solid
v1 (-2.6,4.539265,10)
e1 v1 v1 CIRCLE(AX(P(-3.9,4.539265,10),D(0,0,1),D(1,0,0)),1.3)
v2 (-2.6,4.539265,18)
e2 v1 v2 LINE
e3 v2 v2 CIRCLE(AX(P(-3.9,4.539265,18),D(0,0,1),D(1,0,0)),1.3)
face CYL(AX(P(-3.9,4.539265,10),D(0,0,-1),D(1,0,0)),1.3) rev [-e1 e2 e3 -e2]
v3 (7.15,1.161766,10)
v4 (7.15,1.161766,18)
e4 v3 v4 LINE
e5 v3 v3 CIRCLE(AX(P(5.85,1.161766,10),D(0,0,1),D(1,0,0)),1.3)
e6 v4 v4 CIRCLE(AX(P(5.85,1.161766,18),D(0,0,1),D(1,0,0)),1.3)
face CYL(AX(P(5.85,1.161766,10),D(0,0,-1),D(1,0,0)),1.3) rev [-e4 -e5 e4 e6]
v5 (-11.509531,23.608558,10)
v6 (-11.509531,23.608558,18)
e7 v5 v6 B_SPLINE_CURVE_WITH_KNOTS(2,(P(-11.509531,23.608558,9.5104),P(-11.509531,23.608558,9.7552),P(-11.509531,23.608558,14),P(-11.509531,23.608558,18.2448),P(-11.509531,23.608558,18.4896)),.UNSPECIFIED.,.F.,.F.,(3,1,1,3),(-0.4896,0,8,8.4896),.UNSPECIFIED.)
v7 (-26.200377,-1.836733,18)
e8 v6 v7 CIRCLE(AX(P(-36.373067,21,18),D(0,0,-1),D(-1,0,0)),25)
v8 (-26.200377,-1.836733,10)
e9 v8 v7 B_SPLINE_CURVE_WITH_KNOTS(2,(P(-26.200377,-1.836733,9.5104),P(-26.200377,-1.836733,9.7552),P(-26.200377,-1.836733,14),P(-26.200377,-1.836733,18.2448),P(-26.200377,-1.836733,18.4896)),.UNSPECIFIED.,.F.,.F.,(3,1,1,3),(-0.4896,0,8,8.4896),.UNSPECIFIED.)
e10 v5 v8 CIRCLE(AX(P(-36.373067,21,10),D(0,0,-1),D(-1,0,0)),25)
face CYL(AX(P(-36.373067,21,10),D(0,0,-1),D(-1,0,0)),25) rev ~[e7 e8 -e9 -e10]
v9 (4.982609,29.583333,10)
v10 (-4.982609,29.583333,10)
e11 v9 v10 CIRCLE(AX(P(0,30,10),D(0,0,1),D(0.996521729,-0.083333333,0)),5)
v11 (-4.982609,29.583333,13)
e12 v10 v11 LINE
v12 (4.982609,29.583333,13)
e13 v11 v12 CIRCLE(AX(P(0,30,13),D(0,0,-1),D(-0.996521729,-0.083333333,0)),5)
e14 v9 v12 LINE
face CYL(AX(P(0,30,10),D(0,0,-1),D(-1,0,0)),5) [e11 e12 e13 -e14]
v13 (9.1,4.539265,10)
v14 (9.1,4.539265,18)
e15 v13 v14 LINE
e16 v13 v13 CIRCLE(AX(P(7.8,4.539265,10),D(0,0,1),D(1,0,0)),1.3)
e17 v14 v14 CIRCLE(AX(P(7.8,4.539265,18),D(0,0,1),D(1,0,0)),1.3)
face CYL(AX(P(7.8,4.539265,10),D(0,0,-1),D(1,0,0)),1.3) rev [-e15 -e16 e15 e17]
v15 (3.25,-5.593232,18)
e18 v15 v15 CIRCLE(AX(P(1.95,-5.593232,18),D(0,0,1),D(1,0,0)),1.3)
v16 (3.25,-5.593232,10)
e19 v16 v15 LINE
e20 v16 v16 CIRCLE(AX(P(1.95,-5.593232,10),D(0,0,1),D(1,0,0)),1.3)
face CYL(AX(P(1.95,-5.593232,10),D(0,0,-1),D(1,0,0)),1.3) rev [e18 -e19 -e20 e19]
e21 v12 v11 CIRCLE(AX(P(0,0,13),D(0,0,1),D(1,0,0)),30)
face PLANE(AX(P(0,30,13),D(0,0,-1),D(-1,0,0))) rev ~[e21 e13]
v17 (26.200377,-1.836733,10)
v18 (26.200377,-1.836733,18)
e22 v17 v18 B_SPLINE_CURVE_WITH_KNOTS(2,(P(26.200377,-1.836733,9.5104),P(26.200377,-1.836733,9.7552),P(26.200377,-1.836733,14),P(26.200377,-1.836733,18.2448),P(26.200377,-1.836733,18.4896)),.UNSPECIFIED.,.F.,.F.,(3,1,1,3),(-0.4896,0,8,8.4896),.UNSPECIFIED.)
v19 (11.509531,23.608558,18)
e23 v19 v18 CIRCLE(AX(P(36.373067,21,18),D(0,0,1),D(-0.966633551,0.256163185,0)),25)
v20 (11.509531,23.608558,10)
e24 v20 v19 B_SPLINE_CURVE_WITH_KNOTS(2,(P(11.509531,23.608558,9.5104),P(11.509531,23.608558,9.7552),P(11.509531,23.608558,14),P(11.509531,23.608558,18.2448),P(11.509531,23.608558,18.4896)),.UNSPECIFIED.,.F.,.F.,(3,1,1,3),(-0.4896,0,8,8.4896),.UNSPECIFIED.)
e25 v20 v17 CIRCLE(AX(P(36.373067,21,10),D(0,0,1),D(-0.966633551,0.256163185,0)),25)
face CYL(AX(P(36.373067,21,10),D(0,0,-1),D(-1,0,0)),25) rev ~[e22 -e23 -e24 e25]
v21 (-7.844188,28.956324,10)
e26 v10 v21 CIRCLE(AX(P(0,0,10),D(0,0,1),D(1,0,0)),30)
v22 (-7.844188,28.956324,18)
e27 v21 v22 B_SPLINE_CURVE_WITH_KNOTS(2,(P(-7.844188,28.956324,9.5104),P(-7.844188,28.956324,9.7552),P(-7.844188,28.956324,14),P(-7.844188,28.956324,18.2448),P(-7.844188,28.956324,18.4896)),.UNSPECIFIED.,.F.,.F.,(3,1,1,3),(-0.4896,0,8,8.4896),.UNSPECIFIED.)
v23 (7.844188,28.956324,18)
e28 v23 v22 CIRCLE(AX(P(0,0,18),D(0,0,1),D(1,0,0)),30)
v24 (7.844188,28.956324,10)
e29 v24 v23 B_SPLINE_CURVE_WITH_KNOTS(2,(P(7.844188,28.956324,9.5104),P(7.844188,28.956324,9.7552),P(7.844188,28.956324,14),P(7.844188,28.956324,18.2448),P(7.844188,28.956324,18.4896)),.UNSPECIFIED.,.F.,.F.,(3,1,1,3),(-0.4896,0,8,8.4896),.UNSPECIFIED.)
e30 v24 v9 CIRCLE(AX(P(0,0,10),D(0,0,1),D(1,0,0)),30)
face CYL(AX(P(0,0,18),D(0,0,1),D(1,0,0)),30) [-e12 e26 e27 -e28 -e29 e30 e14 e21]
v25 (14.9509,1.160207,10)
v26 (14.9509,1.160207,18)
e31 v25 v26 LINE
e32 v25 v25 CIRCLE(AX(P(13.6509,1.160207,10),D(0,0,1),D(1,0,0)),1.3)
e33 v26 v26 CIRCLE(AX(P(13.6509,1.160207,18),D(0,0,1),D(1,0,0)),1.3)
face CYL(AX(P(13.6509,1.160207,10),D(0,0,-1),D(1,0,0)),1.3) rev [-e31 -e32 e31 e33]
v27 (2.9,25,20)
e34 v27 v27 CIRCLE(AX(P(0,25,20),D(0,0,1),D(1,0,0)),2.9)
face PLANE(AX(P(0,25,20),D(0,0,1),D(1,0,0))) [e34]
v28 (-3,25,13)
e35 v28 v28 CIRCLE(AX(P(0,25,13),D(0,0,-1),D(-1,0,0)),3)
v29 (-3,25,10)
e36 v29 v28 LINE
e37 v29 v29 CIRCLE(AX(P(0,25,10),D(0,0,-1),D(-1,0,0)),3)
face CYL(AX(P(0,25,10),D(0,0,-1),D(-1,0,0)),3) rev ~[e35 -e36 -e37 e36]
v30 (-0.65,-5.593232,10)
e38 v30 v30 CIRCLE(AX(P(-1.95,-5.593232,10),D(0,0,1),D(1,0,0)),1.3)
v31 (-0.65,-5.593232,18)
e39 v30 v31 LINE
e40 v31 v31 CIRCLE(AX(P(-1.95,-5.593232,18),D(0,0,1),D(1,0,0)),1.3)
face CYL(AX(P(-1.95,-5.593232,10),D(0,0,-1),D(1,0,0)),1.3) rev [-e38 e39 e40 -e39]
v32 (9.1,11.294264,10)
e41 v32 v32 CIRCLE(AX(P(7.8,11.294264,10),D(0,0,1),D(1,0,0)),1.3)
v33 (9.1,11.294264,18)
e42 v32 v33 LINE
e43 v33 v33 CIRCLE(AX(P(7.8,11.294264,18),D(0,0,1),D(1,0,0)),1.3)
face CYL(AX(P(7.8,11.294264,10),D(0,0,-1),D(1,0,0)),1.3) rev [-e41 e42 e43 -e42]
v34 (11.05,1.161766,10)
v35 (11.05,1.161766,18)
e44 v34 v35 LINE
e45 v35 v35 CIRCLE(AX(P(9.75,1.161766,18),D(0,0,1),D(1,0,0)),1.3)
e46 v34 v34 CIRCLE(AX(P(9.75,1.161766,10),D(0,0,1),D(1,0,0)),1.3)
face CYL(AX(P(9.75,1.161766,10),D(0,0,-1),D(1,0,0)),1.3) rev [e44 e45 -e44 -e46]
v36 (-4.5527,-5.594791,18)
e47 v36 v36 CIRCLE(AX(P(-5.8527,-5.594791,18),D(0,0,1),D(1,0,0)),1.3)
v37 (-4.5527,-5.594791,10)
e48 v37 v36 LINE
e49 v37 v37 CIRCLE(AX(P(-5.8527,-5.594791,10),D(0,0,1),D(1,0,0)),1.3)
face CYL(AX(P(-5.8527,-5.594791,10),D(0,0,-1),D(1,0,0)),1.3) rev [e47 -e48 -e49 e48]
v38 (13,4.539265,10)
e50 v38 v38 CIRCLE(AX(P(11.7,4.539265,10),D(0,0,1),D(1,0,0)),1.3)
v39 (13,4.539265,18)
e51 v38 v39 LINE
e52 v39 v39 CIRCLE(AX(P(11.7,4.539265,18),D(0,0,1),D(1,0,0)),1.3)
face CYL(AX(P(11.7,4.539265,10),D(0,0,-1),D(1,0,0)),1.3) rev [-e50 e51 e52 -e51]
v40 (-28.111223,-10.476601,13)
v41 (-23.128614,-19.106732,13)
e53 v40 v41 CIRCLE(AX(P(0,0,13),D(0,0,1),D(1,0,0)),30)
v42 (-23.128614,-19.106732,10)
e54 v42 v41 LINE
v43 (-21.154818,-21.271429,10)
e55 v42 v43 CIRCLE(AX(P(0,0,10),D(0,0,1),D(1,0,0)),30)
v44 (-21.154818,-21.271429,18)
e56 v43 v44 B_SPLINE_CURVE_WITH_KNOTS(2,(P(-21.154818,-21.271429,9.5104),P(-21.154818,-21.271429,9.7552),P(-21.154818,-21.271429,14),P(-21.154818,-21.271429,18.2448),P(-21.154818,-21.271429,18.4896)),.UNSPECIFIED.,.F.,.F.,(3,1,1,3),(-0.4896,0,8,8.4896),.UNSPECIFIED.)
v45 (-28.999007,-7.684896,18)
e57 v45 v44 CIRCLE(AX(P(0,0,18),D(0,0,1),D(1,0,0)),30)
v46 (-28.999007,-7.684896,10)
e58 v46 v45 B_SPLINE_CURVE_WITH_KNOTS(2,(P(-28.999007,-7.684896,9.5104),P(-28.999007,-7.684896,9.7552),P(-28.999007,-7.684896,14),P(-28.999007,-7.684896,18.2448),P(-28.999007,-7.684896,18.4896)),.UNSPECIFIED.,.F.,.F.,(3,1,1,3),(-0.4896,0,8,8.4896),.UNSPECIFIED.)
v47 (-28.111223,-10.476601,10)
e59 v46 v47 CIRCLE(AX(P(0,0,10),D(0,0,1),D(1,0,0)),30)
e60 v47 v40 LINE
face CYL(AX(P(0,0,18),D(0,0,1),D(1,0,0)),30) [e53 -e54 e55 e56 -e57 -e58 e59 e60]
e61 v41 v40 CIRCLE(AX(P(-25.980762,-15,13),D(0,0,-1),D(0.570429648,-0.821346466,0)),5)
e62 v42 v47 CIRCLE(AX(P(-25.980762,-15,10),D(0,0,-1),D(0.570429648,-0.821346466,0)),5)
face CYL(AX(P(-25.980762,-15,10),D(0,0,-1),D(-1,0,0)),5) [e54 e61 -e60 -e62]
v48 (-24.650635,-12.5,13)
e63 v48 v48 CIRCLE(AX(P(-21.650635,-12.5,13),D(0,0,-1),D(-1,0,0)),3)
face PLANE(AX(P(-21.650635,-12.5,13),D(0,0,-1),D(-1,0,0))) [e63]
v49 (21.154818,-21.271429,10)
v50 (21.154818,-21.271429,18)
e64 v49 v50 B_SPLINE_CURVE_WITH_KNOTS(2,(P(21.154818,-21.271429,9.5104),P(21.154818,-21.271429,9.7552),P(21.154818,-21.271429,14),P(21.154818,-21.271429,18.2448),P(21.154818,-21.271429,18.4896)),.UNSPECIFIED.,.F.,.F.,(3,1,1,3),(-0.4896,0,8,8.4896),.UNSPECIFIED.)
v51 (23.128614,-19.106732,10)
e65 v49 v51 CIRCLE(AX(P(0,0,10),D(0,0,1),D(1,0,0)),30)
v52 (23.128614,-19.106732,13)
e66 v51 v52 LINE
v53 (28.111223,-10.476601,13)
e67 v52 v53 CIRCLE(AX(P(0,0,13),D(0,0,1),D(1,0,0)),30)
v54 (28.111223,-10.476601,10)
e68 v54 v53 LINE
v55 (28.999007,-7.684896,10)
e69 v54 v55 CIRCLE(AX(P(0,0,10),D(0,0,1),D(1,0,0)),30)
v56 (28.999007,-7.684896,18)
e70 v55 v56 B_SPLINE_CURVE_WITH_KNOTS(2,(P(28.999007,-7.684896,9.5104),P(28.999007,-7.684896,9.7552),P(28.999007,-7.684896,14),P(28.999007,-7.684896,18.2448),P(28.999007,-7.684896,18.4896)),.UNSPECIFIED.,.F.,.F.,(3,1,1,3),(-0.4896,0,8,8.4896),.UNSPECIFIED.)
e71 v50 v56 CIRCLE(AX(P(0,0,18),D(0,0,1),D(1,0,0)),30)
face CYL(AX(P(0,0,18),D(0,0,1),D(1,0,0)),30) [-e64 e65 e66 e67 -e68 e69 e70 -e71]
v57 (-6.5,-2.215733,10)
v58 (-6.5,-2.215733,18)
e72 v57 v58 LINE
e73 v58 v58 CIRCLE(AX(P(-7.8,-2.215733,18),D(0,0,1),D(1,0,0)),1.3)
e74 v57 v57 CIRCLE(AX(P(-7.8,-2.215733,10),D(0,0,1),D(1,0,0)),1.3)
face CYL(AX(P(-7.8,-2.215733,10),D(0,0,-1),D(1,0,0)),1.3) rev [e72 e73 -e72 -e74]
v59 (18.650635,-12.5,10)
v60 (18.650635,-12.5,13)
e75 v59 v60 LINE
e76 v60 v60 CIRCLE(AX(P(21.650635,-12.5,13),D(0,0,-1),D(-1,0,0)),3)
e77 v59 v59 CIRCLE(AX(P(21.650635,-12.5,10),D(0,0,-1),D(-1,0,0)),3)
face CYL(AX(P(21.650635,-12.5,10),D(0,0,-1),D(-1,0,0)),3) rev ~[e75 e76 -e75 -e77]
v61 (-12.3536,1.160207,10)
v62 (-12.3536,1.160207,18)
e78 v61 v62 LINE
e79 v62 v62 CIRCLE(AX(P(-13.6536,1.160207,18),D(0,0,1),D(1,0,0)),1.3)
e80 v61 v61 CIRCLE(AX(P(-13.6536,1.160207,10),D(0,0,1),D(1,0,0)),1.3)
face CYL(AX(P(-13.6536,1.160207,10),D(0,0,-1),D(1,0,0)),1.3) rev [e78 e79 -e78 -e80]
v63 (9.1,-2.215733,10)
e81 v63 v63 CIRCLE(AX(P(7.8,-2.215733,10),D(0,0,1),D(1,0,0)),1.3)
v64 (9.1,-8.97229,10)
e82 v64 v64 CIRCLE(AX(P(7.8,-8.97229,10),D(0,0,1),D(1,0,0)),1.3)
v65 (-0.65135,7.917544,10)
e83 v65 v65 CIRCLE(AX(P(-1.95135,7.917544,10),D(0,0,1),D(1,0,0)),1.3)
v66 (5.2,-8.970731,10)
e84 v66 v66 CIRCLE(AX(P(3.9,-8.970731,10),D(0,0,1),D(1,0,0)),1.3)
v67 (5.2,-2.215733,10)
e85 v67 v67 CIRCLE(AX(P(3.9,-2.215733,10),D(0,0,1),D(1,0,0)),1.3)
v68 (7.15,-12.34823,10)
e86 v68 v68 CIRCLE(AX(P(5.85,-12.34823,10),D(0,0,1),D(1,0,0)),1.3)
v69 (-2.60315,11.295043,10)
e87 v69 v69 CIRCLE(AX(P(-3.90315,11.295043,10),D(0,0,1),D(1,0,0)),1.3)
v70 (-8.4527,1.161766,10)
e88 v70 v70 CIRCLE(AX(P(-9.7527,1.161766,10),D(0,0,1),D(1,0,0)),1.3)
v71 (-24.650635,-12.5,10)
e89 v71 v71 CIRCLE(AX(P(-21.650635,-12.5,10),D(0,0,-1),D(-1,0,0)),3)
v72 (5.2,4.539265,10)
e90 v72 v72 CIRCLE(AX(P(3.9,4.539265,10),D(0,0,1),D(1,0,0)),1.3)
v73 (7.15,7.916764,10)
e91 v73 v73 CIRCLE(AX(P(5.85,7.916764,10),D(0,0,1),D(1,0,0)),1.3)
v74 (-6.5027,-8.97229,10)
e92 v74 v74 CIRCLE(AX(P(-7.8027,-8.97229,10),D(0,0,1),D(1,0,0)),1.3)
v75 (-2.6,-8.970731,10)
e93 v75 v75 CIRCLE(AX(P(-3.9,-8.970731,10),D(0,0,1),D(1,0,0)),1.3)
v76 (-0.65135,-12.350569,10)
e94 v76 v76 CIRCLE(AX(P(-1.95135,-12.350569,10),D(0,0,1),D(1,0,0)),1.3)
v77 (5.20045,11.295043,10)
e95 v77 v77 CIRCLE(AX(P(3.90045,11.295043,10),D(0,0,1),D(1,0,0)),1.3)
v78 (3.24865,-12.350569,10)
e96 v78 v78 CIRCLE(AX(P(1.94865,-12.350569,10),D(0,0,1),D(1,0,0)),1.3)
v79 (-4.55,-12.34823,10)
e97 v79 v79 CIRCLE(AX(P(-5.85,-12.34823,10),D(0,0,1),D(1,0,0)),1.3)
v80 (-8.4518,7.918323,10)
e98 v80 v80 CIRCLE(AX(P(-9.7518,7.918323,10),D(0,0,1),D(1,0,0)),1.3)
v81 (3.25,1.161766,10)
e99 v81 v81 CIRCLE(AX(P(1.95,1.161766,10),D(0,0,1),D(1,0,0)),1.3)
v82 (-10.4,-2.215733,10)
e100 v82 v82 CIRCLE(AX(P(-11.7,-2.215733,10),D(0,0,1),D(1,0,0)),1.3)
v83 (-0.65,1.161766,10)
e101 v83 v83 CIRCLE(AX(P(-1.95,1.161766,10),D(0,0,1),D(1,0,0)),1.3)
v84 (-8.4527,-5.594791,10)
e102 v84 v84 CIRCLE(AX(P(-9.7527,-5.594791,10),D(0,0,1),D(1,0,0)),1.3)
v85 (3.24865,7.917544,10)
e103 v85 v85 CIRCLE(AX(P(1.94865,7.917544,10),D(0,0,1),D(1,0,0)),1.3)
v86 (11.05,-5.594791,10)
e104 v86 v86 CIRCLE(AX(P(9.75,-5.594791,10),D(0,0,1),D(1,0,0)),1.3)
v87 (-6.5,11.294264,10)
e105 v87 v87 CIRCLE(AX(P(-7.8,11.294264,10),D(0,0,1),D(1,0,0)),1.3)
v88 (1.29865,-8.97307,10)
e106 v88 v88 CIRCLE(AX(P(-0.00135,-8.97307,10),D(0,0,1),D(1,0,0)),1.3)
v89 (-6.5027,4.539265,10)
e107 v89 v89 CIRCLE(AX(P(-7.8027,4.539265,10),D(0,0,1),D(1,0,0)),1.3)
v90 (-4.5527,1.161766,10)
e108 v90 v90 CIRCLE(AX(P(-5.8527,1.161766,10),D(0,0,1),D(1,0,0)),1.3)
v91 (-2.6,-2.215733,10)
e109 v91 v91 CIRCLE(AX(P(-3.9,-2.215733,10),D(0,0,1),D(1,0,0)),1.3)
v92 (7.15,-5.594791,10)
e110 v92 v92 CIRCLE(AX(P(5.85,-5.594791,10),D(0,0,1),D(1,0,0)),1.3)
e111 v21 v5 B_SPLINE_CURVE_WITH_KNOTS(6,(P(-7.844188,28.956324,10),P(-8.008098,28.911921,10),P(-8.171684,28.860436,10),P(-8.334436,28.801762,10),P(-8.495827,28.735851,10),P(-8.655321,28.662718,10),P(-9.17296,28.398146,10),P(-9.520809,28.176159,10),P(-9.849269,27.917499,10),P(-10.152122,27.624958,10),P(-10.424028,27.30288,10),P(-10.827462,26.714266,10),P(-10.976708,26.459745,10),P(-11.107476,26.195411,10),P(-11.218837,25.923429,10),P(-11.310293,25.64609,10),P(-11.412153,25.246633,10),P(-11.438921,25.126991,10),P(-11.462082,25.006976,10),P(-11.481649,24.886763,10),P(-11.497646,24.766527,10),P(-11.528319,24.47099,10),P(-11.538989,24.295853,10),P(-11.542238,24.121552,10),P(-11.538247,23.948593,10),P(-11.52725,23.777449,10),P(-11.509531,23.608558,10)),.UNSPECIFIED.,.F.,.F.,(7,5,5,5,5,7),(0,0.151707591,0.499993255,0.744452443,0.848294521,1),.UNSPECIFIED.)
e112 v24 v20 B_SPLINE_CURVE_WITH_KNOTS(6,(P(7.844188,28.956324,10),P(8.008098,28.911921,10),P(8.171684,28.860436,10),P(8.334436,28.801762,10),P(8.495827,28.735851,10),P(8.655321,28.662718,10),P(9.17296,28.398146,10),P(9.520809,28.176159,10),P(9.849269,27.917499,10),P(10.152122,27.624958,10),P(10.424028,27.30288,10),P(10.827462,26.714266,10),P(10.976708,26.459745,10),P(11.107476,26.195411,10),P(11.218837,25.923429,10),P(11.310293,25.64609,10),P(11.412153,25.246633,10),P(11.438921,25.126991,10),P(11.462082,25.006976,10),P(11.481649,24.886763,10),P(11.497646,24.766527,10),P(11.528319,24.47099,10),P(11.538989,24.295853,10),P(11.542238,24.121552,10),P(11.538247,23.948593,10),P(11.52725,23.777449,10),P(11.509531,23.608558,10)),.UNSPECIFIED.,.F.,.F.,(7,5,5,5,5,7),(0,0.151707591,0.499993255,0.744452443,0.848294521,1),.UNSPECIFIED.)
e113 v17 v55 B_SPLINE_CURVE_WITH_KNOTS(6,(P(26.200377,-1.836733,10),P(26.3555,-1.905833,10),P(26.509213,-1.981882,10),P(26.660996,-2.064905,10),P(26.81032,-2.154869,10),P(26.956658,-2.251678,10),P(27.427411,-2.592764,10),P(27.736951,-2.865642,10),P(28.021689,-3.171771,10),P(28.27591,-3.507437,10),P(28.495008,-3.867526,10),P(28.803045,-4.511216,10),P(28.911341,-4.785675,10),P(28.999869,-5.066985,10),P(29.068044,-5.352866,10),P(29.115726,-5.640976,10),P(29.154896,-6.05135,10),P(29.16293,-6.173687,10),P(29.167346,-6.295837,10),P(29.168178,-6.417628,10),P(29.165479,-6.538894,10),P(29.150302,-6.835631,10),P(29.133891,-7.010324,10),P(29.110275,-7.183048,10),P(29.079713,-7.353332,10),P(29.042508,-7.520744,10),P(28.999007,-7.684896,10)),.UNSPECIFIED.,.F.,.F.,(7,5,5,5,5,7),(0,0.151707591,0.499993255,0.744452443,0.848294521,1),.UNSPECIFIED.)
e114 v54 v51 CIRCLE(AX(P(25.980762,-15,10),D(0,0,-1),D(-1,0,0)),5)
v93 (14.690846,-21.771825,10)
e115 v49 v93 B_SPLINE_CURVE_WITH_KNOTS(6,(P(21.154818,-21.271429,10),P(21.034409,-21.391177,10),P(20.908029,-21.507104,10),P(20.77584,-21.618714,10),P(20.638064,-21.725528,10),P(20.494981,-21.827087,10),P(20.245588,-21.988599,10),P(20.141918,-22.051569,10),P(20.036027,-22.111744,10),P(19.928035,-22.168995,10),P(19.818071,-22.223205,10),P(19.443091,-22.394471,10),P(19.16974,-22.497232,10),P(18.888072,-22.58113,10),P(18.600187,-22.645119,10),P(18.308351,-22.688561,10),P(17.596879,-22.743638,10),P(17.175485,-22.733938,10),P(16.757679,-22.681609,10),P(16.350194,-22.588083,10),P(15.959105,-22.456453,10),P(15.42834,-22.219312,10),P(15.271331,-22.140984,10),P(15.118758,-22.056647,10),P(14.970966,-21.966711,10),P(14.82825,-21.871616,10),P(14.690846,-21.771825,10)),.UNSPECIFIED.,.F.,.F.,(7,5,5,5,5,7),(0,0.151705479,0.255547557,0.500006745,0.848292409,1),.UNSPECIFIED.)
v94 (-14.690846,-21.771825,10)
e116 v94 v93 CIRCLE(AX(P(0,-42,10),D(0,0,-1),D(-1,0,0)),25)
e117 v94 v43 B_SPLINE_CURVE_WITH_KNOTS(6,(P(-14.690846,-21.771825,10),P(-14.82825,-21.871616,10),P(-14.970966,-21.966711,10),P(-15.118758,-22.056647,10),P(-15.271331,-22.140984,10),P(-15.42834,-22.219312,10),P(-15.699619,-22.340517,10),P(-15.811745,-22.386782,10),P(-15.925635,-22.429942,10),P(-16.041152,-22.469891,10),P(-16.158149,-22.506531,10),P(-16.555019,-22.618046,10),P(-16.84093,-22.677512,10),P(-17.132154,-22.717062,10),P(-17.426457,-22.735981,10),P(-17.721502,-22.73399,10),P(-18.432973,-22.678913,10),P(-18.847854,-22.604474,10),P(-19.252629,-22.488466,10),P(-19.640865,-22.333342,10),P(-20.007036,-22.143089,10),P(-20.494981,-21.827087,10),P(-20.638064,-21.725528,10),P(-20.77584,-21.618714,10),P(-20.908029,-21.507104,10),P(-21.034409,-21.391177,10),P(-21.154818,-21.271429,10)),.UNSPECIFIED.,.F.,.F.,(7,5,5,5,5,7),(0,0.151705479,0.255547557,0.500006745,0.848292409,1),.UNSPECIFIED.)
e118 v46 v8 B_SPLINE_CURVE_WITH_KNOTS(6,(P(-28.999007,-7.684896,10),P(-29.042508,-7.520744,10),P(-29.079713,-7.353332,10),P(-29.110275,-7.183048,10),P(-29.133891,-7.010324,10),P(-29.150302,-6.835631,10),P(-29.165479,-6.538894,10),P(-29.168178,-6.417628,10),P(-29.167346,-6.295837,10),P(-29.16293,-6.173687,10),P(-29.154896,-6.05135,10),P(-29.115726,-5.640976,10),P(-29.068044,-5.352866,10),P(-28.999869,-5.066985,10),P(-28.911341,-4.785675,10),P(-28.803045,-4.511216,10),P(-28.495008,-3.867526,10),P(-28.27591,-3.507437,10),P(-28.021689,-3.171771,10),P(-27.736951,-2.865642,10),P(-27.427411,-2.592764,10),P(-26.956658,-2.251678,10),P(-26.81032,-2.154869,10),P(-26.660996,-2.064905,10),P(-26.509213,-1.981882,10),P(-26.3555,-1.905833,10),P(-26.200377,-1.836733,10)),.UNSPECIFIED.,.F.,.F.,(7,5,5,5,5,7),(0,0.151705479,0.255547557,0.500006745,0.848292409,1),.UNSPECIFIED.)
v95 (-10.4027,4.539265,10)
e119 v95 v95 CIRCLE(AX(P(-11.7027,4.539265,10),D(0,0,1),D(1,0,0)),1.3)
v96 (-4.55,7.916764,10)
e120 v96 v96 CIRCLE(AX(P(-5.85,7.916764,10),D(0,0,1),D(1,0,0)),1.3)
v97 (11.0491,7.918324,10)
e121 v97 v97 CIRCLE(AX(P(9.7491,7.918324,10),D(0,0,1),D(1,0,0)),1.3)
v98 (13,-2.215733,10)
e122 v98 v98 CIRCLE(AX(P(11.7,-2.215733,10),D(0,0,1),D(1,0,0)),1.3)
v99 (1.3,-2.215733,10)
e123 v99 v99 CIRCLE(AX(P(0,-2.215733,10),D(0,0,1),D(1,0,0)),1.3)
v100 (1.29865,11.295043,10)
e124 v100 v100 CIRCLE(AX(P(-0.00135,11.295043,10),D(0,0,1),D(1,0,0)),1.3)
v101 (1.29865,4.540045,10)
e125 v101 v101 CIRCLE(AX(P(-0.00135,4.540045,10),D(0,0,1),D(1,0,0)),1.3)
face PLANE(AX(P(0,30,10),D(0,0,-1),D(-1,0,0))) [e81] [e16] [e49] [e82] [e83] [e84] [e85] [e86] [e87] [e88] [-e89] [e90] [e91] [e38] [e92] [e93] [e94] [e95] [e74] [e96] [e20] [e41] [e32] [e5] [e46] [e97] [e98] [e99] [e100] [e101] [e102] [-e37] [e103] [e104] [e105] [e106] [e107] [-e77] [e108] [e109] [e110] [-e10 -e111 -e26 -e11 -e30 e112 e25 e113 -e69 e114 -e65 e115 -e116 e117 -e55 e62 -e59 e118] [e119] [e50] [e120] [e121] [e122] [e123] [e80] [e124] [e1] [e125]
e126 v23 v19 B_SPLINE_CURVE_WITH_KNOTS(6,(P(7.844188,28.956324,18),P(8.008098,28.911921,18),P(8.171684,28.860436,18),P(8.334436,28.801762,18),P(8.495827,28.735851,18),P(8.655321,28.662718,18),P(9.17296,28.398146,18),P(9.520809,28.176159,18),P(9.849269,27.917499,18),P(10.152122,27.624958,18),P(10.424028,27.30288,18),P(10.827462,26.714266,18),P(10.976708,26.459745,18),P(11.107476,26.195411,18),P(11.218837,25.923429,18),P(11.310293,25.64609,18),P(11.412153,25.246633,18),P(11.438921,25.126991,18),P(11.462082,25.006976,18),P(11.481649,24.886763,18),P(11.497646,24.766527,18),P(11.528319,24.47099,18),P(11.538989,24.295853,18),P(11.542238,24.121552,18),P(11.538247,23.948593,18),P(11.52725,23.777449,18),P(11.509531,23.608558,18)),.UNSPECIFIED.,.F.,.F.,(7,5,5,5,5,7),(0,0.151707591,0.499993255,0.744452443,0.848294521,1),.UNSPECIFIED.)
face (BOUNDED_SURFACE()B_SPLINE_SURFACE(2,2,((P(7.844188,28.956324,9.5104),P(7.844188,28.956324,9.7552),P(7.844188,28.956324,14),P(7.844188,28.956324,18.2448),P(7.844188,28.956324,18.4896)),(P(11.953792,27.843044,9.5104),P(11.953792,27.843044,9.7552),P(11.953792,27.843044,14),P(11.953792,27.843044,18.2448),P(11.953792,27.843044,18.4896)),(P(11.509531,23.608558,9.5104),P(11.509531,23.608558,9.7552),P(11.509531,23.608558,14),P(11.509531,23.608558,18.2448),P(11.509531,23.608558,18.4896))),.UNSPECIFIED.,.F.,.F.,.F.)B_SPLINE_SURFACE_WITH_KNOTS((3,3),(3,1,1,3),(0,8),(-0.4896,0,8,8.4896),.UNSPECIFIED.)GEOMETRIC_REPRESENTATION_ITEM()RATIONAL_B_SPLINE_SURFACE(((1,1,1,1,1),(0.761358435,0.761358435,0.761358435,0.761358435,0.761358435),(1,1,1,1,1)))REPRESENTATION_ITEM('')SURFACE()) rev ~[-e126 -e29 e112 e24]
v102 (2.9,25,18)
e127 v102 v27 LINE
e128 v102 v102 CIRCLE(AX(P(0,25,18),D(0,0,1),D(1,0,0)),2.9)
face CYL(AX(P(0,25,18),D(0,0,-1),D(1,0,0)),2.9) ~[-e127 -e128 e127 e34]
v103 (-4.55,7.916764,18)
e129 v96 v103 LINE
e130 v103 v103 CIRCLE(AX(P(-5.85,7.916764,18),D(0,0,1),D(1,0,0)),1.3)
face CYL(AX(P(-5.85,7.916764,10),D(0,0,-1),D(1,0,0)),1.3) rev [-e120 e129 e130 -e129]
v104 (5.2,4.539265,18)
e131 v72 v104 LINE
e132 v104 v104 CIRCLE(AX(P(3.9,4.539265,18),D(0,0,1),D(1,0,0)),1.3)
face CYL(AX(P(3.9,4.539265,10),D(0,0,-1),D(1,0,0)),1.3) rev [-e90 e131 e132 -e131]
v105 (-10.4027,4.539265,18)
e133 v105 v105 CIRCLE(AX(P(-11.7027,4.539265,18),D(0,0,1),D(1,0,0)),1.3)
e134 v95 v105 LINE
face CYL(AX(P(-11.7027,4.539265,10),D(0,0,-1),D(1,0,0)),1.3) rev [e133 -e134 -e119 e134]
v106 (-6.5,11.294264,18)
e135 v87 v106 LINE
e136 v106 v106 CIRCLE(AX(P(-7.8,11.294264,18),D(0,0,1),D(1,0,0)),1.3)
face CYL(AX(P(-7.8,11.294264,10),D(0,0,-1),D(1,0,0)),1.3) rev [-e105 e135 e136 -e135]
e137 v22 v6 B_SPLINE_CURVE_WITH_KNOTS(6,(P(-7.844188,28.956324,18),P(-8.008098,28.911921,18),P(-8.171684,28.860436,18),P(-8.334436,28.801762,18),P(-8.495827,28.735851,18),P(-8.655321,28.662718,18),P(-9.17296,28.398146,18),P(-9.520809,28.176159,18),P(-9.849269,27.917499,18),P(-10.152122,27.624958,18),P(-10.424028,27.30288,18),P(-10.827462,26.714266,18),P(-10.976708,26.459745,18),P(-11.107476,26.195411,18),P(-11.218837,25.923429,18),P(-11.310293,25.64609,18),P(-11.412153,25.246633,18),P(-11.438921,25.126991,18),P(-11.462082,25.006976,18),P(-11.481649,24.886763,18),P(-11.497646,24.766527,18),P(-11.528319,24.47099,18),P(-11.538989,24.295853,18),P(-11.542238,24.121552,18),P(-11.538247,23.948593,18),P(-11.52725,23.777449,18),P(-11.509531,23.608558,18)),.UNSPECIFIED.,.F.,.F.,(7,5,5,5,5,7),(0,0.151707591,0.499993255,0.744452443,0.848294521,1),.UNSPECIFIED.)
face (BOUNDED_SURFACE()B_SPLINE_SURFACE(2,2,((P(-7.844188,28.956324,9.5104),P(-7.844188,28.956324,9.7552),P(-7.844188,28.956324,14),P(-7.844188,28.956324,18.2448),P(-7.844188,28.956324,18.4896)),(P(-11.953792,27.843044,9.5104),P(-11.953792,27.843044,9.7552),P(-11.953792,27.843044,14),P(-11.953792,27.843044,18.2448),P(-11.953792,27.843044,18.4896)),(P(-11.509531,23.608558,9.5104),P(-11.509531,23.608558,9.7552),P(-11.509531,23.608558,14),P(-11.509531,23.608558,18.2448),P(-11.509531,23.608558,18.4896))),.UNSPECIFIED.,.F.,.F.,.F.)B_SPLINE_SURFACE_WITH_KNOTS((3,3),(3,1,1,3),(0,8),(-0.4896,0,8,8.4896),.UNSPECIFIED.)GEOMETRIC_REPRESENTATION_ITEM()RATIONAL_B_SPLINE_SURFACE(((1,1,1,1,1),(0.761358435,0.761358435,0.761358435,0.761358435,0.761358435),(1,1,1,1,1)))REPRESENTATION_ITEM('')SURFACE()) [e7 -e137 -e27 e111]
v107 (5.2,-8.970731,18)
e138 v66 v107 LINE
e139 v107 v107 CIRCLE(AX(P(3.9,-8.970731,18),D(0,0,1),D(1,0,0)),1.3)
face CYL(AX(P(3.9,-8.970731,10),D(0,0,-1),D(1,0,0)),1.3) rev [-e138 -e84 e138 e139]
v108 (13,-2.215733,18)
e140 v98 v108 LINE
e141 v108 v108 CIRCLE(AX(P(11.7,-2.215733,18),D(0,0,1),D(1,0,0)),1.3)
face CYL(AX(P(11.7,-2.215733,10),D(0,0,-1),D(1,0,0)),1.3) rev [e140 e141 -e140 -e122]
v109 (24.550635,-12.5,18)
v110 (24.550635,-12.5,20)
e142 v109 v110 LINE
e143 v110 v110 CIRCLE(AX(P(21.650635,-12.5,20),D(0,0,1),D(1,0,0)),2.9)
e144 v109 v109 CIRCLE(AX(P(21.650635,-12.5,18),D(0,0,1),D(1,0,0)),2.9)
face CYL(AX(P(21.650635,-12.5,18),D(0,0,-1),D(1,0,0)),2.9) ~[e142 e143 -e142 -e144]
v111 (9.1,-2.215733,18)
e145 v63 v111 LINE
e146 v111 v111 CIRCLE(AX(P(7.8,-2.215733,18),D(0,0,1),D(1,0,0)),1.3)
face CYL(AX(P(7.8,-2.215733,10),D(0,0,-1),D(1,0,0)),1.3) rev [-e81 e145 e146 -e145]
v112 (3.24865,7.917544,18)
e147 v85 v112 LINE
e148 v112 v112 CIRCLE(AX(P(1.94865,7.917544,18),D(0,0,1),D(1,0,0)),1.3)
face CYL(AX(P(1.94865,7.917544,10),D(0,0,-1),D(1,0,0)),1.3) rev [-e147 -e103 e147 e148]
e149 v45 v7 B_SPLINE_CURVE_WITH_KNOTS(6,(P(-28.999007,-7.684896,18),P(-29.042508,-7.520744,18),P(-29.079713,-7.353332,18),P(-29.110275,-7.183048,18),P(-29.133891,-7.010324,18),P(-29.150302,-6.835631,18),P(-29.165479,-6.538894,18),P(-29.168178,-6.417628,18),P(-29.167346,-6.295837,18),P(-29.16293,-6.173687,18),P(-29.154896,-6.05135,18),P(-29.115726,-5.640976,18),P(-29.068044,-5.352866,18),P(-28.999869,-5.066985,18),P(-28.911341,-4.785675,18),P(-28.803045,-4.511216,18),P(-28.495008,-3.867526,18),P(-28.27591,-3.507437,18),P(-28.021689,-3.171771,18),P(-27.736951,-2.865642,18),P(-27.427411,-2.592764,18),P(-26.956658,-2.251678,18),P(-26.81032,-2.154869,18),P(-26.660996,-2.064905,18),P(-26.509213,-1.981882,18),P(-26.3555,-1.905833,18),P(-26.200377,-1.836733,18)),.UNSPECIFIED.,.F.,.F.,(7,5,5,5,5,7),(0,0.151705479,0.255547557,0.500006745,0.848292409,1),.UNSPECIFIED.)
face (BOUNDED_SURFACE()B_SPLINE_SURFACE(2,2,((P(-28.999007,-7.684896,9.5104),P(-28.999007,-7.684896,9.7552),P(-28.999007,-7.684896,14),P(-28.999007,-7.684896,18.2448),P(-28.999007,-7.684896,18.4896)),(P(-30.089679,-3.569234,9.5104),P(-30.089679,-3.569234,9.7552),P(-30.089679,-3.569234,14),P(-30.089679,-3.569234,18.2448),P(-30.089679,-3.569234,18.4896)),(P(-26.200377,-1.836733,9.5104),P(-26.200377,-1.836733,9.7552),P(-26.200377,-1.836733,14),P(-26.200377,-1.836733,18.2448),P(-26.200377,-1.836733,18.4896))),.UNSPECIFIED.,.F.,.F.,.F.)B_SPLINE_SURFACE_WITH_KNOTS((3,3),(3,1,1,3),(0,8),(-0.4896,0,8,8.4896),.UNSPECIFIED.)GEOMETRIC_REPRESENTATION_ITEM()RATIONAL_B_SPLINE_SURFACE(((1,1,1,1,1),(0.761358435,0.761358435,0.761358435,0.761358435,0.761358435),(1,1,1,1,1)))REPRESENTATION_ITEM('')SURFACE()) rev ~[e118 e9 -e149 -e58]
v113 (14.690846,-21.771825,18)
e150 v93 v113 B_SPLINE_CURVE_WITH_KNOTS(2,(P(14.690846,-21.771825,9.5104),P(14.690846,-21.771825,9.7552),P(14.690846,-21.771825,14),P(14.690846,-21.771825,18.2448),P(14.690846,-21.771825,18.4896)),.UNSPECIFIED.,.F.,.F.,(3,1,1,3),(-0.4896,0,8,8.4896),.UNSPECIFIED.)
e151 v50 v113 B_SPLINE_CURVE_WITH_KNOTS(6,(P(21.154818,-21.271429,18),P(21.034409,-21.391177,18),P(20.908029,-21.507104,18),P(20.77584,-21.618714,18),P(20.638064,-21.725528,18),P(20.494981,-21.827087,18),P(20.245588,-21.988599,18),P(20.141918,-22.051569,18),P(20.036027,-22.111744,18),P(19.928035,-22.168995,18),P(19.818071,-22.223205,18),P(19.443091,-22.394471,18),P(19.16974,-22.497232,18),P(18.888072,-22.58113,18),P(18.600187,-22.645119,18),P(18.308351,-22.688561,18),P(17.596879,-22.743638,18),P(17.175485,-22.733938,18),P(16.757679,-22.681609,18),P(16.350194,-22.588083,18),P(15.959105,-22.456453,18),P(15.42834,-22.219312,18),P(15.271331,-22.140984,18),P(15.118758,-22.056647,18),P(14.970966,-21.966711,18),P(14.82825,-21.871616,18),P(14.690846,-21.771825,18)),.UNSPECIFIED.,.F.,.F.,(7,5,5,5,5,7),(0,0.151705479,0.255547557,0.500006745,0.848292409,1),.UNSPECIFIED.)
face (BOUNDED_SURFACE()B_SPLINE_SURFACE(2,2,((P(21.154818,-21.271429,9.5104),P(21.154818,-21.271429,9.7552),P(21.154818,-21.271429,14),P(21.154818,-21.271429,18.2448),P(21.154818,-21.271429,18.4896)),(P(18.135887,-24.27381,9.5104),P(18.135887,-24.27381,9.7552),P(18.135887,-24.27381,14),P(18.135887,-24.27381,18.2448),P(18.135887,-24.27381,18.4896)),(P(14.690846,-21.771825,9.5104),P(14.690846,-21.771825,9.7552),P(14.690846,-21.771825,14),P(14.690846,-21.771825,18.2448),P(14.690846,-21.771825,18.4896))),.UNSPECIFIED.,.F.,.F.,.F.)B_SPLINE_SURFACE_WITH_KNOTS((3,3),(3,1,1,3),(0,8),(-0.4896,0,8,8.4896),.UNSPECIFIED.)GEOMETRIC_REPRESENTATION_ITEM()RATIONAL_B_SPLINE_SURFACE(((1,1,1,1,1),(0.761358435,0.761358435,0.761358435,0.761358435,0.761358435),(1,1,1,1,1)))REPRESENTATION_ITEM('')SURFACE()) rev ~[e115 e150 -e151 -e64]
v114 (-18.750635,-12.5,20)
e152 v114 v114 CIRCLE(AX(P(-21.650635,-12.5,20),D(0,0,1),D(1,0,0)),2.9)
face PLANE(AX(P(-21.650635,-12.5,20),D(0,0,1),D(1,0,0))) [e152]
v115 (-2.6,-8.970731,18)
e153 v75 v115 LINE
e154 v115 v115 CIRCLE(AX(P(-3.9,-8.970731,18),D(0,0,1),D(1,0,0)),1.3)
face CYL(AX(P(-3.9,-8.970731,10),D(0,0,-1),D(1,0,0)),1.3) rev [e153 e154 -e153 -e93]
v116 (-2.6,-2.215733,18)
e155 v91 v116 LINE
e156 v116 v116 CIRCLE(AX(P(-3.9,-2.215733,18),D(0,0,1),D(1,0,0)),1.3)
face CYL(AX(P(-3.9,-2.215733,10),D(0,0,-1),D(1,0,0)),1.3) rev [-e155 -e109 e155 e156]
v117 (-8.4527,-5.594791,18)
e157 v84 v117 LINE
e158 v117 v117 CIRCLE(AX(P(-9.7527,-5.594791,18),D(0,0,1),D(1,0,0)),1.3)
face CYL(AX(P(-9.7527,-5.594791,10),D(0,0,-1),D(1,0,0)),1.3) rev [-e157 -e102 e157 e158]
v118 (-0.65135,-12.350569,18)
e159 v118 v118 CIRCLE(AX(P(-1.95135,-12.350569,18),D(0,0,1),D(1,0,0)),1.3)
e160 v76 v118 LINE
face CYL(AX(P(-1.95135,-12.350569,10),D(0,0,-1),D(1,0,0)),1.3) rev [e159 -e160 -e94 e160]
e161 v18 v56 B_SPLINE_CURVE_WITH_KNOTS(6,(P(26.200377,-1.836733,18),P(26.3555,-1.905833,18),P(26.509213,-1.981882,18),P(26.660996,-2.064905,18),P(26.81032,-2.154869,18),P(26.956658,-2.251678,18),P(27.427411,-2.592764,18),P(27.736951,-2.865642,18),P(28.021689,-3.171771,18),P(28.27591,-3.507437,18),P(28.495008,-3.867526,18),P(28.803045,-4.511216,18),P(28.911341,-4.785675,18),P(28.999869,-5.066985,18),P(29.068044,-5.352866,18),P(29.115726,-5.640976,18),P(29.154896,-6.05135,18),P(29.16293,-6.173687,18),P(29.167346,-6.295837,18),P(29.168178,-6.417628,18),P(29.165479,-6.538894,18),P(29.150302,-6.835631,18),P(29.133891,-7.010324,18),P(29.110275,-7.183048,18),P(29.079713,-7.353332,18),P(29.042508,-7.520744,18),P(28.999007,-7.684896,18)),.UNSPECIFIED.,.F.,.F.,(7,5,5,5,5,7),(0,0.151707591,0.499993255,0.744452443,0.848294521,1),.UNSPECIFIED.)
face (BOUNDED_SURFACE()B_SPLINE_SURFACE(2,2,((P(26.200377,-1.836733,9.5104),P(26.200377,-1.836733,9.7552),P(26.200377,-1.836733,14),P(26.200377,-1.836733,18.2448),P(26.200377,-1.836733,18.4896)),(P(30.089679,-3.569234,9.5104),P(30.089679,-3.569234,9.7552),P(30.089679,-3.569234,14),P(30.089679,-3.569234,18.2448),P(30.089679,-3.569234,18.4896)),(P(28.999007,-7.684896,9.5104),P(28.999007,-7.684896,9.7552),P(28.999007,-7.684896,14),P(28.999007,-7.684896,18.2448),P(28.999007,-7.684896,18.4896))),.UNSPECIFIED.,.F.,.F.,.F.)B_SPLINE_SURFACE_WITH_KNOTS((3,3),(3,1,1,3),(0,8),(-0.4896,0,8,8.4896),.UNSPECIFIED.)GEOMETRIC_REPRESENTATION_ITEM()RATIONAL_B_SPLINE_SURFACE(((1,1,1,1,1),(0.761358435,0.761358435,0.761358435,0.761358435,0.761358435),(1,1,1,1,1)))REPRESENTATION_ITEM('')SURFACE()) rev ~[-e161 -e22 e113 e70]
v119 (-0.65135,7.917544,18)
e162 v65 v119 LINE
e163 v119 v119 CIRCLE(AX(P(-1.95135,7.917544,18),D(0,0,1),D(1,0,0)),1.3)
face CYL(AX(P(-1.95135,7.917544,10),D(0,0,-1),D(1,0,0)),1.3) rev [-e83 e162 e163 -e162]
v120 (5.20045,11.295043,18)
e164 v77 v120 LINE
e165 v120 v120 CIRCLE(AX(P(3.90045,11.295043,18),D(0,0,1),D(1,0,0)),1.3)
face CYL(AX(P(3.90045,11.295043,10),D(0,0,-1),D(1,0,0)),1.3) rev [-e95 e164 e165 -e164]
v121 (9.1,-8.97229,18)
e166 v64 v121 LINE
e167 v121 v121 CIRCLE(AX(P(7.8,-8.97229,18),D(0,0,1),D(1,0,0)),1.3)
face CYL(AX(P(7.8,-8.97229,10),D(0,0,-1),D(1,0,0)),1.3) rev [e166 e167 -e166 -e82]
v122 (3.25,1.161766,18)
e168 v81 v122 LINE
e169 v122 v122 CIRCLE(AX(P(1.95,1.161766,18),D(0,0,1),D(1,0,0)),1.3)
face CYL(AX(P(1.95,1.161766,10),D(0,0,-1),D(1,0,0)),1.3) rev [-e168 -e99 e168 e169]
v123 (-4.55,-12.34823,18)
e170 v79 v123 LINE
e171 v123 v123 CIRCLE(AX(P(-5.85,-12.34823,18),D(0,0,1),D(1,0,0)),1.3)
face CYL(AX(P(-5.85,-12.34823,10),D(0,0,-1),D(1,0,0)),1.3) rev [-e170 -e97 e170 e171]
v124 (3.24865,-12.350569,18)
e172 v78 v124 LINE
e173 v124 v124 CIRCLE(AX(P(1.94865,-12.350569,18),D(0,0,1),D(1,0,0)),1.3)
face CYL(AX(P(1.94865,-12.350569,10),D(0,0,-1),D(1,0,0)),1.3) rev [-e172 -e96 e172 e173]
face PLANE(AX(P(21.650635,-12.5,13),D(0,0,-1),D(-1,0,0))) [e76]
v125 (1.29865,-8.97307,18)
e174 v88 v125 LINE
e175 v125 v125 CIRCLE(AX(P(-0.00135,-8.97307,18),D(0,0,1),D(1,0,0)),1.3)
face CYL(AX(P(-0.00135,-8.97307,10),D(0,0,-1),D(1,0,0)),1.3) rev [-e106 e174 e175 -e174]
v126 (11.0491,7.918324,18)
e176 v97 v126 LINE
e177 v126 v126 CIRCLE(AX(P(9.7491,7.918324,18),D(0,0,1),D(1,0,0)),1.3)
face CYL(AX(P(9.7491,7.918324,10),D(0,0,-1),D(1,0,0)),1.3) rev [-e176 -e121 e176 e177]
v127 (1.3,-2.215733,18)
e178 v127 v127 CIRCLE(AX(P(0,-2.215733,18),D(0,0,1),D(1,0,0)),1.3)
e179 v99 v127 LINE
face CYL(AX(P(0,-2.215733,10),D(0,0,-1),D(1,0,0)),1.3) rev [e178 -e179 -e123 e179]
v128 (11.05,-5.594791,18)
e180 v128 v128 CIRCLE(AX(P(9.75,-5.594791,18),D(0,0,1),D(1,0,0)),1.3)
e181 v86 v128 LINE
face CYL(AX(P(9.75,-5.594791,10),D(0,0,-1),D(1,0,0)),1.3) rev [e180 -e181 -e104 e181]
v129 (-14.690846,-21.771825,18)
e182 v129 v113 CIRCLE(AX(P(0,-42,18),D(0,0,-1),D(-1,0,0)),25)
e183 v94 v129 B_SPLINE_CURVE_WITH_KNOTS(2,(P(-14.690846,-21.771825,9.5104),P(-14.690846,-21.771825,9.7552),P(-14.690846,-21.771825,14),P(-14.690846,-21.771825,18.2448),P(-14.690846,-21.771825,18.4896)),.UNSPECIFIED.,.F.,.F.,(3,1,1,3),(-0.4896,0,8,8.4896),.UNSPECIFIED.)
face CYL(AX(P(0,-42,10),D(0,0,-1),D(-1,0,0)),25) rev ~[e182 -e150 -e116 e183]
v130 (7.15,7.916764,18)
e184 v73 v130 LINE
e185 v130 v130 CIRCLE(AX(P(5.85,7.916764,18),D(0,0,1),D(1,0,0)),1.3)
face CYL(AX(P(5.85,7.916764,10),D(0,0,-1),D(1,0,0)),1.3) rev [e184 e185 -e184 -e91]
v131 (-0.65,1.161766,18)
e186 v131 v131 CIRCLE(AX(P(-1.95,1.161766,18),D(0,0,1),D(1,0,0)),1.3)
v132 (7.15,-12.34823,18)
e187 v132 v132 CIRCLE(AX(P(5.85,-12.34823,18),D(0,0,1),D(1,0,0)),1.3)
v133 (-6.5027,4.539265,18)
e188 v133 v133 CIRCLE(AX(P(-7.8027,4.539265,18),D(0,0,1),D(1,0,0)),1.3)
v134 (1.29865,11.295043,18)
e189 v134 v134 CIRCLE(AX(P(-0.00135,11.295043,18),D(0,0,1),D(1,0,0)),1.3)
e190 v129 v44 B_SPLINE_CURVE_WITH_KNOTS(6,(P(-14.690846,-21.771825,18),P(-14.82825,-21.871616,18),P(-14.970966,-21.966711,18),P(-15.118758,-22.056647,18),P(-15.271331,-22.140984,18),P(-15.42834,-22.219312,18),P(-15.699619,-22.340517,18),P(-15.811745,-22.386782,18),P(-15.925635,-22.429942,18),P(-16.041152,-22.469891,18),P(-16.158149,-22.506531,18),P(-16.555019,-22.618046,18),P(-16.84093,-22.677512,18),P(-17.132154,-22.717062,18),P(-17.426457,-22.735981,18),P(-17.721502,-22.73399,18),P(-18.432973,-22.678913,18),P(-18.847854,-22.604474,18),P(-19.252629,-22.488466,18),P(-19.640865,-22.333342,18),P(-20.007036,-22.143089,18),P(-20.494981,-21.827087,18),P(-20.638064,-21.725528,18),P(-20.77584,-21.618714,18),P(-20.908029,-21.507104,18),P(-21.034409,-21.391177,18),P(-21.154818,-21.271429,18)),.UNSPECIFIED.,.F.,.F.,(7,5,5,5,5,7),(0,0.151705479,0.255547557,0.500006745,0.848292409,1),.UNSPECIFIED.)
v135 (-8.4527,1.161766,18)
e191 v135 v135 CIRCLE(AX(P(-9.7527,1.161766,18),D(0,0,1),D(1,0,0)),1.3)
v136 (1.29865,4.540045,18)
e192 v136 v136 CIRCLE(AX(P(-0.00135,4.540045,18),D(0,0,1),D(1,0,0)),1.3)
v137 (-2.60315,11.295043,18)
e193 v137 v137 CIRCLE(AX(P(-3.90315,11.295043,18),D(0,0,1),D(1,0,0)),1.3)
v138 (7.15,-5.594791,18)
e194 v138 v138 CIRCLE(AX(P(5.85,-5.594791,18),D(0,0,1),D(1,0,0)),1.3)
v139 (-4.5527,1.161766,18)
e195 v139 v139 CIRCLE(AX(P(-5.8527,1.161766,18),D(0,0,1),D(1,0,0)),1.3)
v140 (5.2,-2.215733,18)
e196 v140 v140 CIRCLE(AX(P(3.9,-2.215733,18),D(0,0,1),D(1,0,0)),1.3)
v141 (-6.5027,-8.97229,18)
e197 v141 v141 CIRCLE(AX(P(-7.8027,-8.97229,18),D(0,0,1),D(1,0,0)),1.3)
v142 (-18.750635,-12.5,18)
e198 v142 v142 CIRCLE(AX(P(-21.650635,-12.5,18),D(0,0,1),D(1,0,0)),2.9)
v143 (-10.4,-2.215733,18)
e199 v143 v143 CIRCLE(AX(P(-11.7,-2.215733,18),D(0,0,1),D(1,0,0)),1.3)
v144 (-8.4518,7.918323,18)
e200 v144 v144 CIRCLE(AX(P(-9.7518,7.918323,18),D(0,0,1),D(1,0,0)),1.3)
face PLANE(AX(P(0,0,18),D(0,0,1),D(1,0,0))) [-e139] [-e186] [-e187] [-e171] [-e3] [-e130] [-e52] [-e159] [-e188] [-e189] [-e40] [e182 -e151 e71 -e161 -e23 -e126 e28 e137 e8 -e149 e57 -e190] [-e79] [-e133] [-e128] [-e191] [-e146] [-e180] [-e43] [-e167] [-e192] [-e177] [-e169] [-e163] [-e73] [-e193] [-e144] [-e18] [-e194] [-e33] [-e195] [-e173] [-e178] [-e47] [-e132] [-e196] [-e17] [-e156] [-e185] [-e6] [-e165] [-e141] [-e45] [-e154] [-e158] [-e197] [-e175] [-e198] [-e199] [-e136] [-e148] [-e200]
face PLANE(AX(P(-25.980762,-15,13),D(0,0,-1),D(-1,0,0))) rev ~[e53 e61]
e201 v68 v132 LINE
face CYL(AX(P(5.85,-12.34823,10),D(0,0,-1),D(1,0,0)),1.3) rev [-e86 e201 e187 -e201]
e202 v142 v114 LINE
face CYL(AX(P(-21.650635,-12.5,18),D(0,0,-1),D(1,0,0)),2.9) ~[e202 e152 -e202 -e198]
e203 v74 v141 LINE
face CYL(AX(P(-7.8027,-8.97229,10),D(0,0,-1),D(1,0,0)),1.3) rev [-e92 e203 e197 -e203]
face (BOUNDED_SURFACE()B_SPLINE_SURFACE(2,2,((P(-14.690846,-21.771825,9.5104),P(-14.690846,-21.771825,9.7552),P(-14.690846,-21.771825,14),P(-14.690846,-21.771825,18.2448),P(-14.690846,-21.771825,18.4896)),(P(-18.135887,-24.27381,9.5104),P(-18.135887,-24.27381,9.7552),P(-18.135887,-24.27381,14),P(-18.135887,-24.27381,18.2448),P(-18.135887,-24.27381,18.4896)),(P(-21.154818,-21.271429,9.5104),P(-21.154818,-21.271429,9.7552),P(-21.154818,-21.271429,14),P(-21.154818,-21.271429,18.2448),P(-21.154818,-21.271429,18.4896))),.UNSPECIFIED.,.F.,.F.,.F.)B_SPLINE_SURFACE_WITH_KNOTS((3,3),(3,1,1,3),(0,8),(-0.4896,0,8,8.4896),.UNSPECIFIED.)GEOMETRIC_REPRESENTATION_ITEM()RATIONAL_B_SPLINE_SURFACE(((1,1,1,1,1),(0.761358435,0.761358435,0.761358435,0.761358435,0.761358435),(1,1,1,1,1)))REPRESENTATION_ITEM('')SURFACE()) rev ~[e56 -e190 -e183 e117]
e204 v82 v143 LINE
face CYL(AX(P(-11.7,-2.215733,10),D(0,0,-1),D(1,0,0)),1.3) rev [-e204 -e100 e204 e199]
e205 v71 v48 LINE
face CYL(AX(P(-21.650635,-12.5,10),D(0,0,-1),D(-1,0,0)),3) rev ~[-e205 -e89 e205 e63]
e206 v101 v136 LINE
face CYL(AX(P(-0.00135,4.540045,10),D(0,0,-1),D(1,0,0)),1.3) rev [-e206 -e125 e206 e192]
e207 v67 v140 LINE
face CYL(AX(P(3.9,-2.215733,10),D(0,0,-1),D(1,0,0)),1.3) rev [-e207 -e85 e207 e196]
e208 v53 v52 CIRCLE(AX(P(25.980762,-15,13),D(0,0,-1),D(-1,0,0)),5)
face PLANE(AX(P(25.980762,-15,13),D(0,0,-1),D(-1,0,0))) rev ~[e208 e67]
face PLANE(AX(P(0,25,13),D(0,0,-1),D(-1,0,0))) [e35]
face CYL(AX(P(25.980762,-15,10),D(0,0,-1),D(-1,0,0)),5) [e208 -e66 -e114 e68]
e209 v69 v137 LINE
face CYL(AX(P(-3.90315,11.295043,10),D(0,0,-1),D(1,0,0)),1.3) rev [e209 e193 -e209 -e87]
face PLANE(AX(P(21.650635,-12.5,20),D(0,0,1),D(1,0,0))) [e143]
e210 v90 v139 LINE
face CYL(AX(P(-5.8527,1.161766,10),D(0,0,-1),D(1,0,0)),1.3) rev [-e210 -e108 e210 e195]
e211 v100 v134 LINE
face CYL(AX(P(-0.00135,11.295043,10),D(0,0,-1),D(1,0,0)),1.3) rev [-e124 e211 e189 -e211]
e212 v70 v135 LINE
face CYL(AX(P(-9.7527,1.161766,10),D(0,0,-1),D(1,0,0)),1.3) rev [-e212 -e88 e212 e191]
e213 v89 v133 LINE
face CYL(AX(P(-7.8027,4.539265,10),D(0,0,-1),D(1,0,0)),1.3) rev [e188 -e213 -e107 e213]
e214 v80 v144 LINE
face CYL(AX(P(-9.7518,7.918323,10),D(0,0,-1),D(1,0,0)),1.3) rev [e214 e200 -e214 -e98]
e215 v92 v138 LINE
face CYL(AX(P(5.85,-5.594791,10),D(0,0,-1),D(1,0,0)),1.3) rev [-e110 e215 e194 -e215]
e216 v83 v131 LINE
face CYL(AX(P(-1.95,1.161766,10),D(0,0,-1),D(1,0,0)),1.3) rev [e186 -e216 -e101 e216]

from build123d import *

# Parameters (mm, degrees)
SKETCH2_R           = 19
SKETCH2_R_2         = 1.3
BOSS_EXTRUDE1_DEPTH = 8
SKETCH3_R           = 30
SKETCH3_R_2         = 17.487995661
BOSS_EXTRUDE2_DEPTH = 8
SKETCH4_R           = 2.9
BOSS_EXTRUDE3_DEPTH = 2
SKETCH6_R           = 5
BOSS_EXTRUDE4_DEPTH = 3
SKETCH5_R           = 3
CUT_EXTRUDE1_DEPTH  = 3
SKETCH7_R           = 25
CUT_EXTRUDE2_DEPTH  = 8
FILLET2_R           = 5


with BuildPart() as part:
    # Sketch2 → Boss-Extrude1 (new body)
    with BuildSketch(Plane.XY.offset(10)):
        Circle(SKETCH2_R)
        with Locations((0, -2.215732779)):
            Circle(SKETCH2_R_2, mode=Mode.SUBTRACT)
        with Locations((3.9, -2.215732779)):
            Circle(SKETCH2_R_2, mode=Mode.SUBTRACT)
        with Locations((7.8, -2.215732779)):
            Circle(SKETCH2_R_2, mode=Mode.SUBTRACT)
        with Locations((11.7, -2.215732779)):
            Circle(SKETCH2_R_2, mode=Mode.SUBTRACT)
        with Locations((1.95, -5.593231854)):
            Circle(SKETCH2_R_2, mode=Mode.SUBTRACT)
        with Locations((3.9, -8.970730929)):
            Circle(SKETCH2_R_2, mode=Mode.SUBTRACT)
        with Locations((5.850000003, -12.348230002)):
            Circle(SKETCH2_R_2, mode=Mode.SUBTRACT)
        with Locations((-1.95, -5.593231854)):
            Circle(SKETCH2_R_2, mode=Mode.SUBTRACT)
        with Locations((-3.9, -8.970730929)):
            Circle(SKETCH2_R_2, mode=Mode.SUBTRACT)
        with Locations((-5.85, -12.348230004)):
            Circle(SKETCH2_R_2, mode=Mode.SUBTRACT)
        with Locations((-3.9, -2.215732779)):
            Circle(SKETCH2_R_2, mode=Mode.SUBTRACT)
        with Locations((-7.8, -2.215732779)):
            Circle(SKETCH2_R_2, mode=Mode.SUBTRACT)
        with Locations((-11.7, -2.215732779)):
            Circle(SKETCH2_R_2, mode=Mode.SUBTRACT)
        with Locations((-1.950000001, 1.161766295)):
            Circle(SKETCH2_R_2, mode=Mode.SUBTRACT)
        with Locations((-3.9, 4.53926537)):
            Circle(SKETCH2_R_2, mode=Mode.SUBTRACT)
        with Locations((-5.85, 7.916764445)):
            Circle(SKETCH2_R_2, mode=Mode.SUBTRACT)
        with Locations((-7.8, 11.29426352)):
            Circle(SKETCH2_R_2, mode=Mode.SUBTRACT)
        with Locations((1.95, 1.161766295)):
            Circle(SKETCH2_R_2, mode=Mode.SUBTRACT)
        with Locations((3.9, 4.53926537)):
            Circle(SKETCH2_R_2, mode=Mode.SUBTRACT)
        with Locations((5.85, 7.916764445)):
            Circle(SKETCH2_R_2, mode=Mode.SUBTRACT)
        with Locations((7.8, 11.29426352)):
            Circle(SKETCH2_R_2, mode=Mode.SUBTRACT)
        with Locations((5.85, 1.161766295)):
            Circle(SKETCH2_R_2, mode=Mode.SUBTRACT)
        with Locations((7.8, 4.53926537)):
            Circle(SKETCH2_R_2, mode=Mode.SUBTRACT)
        with Locations((9.75, 1.161766295)):
            Circle(SKETCH2_R_2, mode=Mode.SUBTRACT)
        with Locations((11.7, 4.53926537)):
            Circle(SKETCH2_R_2, mode=Mode.SUBTRACT)
        with Locations((9.749099848, 7.918323553)):
            Circle(SKETCH2_R_2, mode=Mode.SUBTRACT)
        with Locations((13.650900152, 1.160207187)):
            Circle(SKETCH2_R_2, mode=Mode.SUBTRACT)
        with Locations((5.850000208, -5.594790783)):
            Circle(SKETCH2_R_2, mode=Mode.SUBTRACT)
        with Locations((9.750000208, -5.594790782)):
            Circle(SKETCH2_R_2, mode=Mode.SUBTRACT)
        with Locations((7.800000209, -8.972289857)):
            Circle(SKETCH2_R_2, mode=Mode.SUBTRACT)
        with Locations((-0.00134976, -8.973069502)):
            Circle(SKETCH2_R_2, mode=Mode.SUBTRACT)
        with Locations((1.94865024, -12.350568576)):
            Circle(SKETCH2_R_2, mode=Mode.SUBTRACT)
        with Locations((-1.95134976, -12.350568576)):
            Circle(SKETCH2_R_2, mode=Mode.SUBTRACT)
        with Locations((-5.852699936, -5.594791143)):
            Circle(SKETCH2_R_2, mode=Mode.SUBTRACT)
        with Locations((-7.802699936, -8.972290217)):
            Circle(SKETCH2_R_2, mode=Mode.SUBTRACT)
        with Locations((-9.752699936, -5.594791143)):
            Circle(SKETCH2_R_2, mode=Mode.SUBTRACT)
        with Locations((-5.852700144, 1.161765936)):
            Circle(SKETCH2_R_2, mode=Mode.SUBTRACT)
        with Locations((-9.752700144, 1.161765936)):
            Circle(SKETCH2_R_2, mode=Mode.SUBTRACT)
        with Locations((-7.802700144, 4.53926501)):
            Circle(SKETCH2_R_2, mode=Mode.SUBTRACT)
        with Locations((-11.702700144, 4.53926501)):
            Circle(SKETCH2_R_2, mode=Mode.SUBTRACT)
        with Locations((-9.751799992, 7.918323194)):
            Circle(SKETCH2_R_2, mode=Mode.SUBTRACT)
        with Locations((-13.653600295, 1.160206827)):
            Circle(SKETCH2_R_2, mode=Mode.SUBTRACT)
        with Locations((-0.001350176, 4.540044654)):
            Circle(SKETCH2_R_2, mode=Mode.SUBTRACT)
        with Locations((-1.951350176, 7.917543729)):
            Circle(SKETCH2_R_2, mode=Mode.SUBTRACT)
        with Locations((1.948649824, 7.917543729)):
            Circle(SKETCH2_R_2, mode=Mode.SUBTRACT)
        with Locations((-0.001350176, 11.295042804)):
            Circle(SKETCH2_R_2, mode=Mode.SUBTRACT)
        with Locations((3.900450128, 11.295042804)):
            Circle(SKETCH2_R_2, mode=Mode.SUBTRACT)
        with Locations((-3.903150479, 11.295042804)):
            Circle(SKETCH2_R_2, mode=Mode.SUBTRACT)
    extrude(amount=BOSS_EXTRUDE1_DEPTH)

    # Sketch3 → Boss-Extrude2 (add)
    with BuildSketch(Plane.XY.offset(18)):
        Circle(SKETCH3_R)
        Circle(SKETCH3_R_2, mode=Mode.SUBTRACT)
    extrude(amount=-BOSS_EXTRUDE2_DEPTH)

    # Sketch4 → Boss-Extrude3 (add)
    with BuildSketch(Plane.XY.offset(18)):
        with Locations((0, 25)):
            Circle(SKETCH4_R)
        with Locations((21.650635095, -12.5)):
            Circle(SKETCH4_R)
        with Locations((-21.650635095, -12.5)):
            Circle(SKETCH4_R)
    extrude(amount=BOSS_EXTRUDE3_DEPTH)

    # Sketch6 → Boss-Extrude4 (add)
    with BuildSketch(Plane(origin=(0, 0, 10), x_dir=(-1, 0, 0), z_dir=(0, 0, -1))):
        with Locations((0, 30)):
            Circle(SKETCH6_R)
        with Locations((25.980762114, -15)):
            Circle(SKETCH6_R)
        with Locations((-25.980762114, -15)):
            Circle(SKETCH6_R)
    extrude(amount=-BOSS_EXTRUDE4_DEPTH)

    # Sketch5 → Cut-Extrude1 (cut)
    with BuildSketch(Plane(origin=(0, 0, 10), x_dir=(-1, 0, 0), z_dir=(0, 0, -1))):
        with Locations((0, 25)):
            Circle(SKETCH5_R)
        with Locations((21.650635095, -12.5)):
            Circle(SKETCH5_R)
        with Locations((-21.650635095, -12.5)):
            Circle(SKETCH5_R)
    extrude(amount=-CUT_EXTRUDE1_DEPTH, mode=Mode.SUBTRACT)

    # Sketch7 → Cut-Extrude2 (cut)
    with BuildSketch(Plane(origin=(0, 0, 10), x_dir=(-1, 0, 0), z_dir=(0, 0, -1))):
        with Locations((36.373066959, 21)):
            Circle(SKETCH7_R)
        with Locations((0, -42)):
            Circle(SKETCH7_R)
        with Locations((-36.373066959, 21)):
            Circle(SKETCH7_R)
    extrude(amount=-CUT_EXTRUDE2_DEPTH, mode=Mode.SUBTRACT)

    # Fillet2
    fillet2_edges = [part.edges().sort_by_distance(p)[0] for p in [
        (29.836243213, -3.130270104, 14),
        (12.207228175, 27.404079628, 14),
        (-12.207228175, 27.404079628, 14),
        (-29.836243213, -3.130270104, 14),
        (-17.629015038, -24.273809524, 14),
        (17.629015038, -24.273809524, 14),
    ]]
    fillet(fillet2_edges, radius=FILLET2_R)


solid = part.part
